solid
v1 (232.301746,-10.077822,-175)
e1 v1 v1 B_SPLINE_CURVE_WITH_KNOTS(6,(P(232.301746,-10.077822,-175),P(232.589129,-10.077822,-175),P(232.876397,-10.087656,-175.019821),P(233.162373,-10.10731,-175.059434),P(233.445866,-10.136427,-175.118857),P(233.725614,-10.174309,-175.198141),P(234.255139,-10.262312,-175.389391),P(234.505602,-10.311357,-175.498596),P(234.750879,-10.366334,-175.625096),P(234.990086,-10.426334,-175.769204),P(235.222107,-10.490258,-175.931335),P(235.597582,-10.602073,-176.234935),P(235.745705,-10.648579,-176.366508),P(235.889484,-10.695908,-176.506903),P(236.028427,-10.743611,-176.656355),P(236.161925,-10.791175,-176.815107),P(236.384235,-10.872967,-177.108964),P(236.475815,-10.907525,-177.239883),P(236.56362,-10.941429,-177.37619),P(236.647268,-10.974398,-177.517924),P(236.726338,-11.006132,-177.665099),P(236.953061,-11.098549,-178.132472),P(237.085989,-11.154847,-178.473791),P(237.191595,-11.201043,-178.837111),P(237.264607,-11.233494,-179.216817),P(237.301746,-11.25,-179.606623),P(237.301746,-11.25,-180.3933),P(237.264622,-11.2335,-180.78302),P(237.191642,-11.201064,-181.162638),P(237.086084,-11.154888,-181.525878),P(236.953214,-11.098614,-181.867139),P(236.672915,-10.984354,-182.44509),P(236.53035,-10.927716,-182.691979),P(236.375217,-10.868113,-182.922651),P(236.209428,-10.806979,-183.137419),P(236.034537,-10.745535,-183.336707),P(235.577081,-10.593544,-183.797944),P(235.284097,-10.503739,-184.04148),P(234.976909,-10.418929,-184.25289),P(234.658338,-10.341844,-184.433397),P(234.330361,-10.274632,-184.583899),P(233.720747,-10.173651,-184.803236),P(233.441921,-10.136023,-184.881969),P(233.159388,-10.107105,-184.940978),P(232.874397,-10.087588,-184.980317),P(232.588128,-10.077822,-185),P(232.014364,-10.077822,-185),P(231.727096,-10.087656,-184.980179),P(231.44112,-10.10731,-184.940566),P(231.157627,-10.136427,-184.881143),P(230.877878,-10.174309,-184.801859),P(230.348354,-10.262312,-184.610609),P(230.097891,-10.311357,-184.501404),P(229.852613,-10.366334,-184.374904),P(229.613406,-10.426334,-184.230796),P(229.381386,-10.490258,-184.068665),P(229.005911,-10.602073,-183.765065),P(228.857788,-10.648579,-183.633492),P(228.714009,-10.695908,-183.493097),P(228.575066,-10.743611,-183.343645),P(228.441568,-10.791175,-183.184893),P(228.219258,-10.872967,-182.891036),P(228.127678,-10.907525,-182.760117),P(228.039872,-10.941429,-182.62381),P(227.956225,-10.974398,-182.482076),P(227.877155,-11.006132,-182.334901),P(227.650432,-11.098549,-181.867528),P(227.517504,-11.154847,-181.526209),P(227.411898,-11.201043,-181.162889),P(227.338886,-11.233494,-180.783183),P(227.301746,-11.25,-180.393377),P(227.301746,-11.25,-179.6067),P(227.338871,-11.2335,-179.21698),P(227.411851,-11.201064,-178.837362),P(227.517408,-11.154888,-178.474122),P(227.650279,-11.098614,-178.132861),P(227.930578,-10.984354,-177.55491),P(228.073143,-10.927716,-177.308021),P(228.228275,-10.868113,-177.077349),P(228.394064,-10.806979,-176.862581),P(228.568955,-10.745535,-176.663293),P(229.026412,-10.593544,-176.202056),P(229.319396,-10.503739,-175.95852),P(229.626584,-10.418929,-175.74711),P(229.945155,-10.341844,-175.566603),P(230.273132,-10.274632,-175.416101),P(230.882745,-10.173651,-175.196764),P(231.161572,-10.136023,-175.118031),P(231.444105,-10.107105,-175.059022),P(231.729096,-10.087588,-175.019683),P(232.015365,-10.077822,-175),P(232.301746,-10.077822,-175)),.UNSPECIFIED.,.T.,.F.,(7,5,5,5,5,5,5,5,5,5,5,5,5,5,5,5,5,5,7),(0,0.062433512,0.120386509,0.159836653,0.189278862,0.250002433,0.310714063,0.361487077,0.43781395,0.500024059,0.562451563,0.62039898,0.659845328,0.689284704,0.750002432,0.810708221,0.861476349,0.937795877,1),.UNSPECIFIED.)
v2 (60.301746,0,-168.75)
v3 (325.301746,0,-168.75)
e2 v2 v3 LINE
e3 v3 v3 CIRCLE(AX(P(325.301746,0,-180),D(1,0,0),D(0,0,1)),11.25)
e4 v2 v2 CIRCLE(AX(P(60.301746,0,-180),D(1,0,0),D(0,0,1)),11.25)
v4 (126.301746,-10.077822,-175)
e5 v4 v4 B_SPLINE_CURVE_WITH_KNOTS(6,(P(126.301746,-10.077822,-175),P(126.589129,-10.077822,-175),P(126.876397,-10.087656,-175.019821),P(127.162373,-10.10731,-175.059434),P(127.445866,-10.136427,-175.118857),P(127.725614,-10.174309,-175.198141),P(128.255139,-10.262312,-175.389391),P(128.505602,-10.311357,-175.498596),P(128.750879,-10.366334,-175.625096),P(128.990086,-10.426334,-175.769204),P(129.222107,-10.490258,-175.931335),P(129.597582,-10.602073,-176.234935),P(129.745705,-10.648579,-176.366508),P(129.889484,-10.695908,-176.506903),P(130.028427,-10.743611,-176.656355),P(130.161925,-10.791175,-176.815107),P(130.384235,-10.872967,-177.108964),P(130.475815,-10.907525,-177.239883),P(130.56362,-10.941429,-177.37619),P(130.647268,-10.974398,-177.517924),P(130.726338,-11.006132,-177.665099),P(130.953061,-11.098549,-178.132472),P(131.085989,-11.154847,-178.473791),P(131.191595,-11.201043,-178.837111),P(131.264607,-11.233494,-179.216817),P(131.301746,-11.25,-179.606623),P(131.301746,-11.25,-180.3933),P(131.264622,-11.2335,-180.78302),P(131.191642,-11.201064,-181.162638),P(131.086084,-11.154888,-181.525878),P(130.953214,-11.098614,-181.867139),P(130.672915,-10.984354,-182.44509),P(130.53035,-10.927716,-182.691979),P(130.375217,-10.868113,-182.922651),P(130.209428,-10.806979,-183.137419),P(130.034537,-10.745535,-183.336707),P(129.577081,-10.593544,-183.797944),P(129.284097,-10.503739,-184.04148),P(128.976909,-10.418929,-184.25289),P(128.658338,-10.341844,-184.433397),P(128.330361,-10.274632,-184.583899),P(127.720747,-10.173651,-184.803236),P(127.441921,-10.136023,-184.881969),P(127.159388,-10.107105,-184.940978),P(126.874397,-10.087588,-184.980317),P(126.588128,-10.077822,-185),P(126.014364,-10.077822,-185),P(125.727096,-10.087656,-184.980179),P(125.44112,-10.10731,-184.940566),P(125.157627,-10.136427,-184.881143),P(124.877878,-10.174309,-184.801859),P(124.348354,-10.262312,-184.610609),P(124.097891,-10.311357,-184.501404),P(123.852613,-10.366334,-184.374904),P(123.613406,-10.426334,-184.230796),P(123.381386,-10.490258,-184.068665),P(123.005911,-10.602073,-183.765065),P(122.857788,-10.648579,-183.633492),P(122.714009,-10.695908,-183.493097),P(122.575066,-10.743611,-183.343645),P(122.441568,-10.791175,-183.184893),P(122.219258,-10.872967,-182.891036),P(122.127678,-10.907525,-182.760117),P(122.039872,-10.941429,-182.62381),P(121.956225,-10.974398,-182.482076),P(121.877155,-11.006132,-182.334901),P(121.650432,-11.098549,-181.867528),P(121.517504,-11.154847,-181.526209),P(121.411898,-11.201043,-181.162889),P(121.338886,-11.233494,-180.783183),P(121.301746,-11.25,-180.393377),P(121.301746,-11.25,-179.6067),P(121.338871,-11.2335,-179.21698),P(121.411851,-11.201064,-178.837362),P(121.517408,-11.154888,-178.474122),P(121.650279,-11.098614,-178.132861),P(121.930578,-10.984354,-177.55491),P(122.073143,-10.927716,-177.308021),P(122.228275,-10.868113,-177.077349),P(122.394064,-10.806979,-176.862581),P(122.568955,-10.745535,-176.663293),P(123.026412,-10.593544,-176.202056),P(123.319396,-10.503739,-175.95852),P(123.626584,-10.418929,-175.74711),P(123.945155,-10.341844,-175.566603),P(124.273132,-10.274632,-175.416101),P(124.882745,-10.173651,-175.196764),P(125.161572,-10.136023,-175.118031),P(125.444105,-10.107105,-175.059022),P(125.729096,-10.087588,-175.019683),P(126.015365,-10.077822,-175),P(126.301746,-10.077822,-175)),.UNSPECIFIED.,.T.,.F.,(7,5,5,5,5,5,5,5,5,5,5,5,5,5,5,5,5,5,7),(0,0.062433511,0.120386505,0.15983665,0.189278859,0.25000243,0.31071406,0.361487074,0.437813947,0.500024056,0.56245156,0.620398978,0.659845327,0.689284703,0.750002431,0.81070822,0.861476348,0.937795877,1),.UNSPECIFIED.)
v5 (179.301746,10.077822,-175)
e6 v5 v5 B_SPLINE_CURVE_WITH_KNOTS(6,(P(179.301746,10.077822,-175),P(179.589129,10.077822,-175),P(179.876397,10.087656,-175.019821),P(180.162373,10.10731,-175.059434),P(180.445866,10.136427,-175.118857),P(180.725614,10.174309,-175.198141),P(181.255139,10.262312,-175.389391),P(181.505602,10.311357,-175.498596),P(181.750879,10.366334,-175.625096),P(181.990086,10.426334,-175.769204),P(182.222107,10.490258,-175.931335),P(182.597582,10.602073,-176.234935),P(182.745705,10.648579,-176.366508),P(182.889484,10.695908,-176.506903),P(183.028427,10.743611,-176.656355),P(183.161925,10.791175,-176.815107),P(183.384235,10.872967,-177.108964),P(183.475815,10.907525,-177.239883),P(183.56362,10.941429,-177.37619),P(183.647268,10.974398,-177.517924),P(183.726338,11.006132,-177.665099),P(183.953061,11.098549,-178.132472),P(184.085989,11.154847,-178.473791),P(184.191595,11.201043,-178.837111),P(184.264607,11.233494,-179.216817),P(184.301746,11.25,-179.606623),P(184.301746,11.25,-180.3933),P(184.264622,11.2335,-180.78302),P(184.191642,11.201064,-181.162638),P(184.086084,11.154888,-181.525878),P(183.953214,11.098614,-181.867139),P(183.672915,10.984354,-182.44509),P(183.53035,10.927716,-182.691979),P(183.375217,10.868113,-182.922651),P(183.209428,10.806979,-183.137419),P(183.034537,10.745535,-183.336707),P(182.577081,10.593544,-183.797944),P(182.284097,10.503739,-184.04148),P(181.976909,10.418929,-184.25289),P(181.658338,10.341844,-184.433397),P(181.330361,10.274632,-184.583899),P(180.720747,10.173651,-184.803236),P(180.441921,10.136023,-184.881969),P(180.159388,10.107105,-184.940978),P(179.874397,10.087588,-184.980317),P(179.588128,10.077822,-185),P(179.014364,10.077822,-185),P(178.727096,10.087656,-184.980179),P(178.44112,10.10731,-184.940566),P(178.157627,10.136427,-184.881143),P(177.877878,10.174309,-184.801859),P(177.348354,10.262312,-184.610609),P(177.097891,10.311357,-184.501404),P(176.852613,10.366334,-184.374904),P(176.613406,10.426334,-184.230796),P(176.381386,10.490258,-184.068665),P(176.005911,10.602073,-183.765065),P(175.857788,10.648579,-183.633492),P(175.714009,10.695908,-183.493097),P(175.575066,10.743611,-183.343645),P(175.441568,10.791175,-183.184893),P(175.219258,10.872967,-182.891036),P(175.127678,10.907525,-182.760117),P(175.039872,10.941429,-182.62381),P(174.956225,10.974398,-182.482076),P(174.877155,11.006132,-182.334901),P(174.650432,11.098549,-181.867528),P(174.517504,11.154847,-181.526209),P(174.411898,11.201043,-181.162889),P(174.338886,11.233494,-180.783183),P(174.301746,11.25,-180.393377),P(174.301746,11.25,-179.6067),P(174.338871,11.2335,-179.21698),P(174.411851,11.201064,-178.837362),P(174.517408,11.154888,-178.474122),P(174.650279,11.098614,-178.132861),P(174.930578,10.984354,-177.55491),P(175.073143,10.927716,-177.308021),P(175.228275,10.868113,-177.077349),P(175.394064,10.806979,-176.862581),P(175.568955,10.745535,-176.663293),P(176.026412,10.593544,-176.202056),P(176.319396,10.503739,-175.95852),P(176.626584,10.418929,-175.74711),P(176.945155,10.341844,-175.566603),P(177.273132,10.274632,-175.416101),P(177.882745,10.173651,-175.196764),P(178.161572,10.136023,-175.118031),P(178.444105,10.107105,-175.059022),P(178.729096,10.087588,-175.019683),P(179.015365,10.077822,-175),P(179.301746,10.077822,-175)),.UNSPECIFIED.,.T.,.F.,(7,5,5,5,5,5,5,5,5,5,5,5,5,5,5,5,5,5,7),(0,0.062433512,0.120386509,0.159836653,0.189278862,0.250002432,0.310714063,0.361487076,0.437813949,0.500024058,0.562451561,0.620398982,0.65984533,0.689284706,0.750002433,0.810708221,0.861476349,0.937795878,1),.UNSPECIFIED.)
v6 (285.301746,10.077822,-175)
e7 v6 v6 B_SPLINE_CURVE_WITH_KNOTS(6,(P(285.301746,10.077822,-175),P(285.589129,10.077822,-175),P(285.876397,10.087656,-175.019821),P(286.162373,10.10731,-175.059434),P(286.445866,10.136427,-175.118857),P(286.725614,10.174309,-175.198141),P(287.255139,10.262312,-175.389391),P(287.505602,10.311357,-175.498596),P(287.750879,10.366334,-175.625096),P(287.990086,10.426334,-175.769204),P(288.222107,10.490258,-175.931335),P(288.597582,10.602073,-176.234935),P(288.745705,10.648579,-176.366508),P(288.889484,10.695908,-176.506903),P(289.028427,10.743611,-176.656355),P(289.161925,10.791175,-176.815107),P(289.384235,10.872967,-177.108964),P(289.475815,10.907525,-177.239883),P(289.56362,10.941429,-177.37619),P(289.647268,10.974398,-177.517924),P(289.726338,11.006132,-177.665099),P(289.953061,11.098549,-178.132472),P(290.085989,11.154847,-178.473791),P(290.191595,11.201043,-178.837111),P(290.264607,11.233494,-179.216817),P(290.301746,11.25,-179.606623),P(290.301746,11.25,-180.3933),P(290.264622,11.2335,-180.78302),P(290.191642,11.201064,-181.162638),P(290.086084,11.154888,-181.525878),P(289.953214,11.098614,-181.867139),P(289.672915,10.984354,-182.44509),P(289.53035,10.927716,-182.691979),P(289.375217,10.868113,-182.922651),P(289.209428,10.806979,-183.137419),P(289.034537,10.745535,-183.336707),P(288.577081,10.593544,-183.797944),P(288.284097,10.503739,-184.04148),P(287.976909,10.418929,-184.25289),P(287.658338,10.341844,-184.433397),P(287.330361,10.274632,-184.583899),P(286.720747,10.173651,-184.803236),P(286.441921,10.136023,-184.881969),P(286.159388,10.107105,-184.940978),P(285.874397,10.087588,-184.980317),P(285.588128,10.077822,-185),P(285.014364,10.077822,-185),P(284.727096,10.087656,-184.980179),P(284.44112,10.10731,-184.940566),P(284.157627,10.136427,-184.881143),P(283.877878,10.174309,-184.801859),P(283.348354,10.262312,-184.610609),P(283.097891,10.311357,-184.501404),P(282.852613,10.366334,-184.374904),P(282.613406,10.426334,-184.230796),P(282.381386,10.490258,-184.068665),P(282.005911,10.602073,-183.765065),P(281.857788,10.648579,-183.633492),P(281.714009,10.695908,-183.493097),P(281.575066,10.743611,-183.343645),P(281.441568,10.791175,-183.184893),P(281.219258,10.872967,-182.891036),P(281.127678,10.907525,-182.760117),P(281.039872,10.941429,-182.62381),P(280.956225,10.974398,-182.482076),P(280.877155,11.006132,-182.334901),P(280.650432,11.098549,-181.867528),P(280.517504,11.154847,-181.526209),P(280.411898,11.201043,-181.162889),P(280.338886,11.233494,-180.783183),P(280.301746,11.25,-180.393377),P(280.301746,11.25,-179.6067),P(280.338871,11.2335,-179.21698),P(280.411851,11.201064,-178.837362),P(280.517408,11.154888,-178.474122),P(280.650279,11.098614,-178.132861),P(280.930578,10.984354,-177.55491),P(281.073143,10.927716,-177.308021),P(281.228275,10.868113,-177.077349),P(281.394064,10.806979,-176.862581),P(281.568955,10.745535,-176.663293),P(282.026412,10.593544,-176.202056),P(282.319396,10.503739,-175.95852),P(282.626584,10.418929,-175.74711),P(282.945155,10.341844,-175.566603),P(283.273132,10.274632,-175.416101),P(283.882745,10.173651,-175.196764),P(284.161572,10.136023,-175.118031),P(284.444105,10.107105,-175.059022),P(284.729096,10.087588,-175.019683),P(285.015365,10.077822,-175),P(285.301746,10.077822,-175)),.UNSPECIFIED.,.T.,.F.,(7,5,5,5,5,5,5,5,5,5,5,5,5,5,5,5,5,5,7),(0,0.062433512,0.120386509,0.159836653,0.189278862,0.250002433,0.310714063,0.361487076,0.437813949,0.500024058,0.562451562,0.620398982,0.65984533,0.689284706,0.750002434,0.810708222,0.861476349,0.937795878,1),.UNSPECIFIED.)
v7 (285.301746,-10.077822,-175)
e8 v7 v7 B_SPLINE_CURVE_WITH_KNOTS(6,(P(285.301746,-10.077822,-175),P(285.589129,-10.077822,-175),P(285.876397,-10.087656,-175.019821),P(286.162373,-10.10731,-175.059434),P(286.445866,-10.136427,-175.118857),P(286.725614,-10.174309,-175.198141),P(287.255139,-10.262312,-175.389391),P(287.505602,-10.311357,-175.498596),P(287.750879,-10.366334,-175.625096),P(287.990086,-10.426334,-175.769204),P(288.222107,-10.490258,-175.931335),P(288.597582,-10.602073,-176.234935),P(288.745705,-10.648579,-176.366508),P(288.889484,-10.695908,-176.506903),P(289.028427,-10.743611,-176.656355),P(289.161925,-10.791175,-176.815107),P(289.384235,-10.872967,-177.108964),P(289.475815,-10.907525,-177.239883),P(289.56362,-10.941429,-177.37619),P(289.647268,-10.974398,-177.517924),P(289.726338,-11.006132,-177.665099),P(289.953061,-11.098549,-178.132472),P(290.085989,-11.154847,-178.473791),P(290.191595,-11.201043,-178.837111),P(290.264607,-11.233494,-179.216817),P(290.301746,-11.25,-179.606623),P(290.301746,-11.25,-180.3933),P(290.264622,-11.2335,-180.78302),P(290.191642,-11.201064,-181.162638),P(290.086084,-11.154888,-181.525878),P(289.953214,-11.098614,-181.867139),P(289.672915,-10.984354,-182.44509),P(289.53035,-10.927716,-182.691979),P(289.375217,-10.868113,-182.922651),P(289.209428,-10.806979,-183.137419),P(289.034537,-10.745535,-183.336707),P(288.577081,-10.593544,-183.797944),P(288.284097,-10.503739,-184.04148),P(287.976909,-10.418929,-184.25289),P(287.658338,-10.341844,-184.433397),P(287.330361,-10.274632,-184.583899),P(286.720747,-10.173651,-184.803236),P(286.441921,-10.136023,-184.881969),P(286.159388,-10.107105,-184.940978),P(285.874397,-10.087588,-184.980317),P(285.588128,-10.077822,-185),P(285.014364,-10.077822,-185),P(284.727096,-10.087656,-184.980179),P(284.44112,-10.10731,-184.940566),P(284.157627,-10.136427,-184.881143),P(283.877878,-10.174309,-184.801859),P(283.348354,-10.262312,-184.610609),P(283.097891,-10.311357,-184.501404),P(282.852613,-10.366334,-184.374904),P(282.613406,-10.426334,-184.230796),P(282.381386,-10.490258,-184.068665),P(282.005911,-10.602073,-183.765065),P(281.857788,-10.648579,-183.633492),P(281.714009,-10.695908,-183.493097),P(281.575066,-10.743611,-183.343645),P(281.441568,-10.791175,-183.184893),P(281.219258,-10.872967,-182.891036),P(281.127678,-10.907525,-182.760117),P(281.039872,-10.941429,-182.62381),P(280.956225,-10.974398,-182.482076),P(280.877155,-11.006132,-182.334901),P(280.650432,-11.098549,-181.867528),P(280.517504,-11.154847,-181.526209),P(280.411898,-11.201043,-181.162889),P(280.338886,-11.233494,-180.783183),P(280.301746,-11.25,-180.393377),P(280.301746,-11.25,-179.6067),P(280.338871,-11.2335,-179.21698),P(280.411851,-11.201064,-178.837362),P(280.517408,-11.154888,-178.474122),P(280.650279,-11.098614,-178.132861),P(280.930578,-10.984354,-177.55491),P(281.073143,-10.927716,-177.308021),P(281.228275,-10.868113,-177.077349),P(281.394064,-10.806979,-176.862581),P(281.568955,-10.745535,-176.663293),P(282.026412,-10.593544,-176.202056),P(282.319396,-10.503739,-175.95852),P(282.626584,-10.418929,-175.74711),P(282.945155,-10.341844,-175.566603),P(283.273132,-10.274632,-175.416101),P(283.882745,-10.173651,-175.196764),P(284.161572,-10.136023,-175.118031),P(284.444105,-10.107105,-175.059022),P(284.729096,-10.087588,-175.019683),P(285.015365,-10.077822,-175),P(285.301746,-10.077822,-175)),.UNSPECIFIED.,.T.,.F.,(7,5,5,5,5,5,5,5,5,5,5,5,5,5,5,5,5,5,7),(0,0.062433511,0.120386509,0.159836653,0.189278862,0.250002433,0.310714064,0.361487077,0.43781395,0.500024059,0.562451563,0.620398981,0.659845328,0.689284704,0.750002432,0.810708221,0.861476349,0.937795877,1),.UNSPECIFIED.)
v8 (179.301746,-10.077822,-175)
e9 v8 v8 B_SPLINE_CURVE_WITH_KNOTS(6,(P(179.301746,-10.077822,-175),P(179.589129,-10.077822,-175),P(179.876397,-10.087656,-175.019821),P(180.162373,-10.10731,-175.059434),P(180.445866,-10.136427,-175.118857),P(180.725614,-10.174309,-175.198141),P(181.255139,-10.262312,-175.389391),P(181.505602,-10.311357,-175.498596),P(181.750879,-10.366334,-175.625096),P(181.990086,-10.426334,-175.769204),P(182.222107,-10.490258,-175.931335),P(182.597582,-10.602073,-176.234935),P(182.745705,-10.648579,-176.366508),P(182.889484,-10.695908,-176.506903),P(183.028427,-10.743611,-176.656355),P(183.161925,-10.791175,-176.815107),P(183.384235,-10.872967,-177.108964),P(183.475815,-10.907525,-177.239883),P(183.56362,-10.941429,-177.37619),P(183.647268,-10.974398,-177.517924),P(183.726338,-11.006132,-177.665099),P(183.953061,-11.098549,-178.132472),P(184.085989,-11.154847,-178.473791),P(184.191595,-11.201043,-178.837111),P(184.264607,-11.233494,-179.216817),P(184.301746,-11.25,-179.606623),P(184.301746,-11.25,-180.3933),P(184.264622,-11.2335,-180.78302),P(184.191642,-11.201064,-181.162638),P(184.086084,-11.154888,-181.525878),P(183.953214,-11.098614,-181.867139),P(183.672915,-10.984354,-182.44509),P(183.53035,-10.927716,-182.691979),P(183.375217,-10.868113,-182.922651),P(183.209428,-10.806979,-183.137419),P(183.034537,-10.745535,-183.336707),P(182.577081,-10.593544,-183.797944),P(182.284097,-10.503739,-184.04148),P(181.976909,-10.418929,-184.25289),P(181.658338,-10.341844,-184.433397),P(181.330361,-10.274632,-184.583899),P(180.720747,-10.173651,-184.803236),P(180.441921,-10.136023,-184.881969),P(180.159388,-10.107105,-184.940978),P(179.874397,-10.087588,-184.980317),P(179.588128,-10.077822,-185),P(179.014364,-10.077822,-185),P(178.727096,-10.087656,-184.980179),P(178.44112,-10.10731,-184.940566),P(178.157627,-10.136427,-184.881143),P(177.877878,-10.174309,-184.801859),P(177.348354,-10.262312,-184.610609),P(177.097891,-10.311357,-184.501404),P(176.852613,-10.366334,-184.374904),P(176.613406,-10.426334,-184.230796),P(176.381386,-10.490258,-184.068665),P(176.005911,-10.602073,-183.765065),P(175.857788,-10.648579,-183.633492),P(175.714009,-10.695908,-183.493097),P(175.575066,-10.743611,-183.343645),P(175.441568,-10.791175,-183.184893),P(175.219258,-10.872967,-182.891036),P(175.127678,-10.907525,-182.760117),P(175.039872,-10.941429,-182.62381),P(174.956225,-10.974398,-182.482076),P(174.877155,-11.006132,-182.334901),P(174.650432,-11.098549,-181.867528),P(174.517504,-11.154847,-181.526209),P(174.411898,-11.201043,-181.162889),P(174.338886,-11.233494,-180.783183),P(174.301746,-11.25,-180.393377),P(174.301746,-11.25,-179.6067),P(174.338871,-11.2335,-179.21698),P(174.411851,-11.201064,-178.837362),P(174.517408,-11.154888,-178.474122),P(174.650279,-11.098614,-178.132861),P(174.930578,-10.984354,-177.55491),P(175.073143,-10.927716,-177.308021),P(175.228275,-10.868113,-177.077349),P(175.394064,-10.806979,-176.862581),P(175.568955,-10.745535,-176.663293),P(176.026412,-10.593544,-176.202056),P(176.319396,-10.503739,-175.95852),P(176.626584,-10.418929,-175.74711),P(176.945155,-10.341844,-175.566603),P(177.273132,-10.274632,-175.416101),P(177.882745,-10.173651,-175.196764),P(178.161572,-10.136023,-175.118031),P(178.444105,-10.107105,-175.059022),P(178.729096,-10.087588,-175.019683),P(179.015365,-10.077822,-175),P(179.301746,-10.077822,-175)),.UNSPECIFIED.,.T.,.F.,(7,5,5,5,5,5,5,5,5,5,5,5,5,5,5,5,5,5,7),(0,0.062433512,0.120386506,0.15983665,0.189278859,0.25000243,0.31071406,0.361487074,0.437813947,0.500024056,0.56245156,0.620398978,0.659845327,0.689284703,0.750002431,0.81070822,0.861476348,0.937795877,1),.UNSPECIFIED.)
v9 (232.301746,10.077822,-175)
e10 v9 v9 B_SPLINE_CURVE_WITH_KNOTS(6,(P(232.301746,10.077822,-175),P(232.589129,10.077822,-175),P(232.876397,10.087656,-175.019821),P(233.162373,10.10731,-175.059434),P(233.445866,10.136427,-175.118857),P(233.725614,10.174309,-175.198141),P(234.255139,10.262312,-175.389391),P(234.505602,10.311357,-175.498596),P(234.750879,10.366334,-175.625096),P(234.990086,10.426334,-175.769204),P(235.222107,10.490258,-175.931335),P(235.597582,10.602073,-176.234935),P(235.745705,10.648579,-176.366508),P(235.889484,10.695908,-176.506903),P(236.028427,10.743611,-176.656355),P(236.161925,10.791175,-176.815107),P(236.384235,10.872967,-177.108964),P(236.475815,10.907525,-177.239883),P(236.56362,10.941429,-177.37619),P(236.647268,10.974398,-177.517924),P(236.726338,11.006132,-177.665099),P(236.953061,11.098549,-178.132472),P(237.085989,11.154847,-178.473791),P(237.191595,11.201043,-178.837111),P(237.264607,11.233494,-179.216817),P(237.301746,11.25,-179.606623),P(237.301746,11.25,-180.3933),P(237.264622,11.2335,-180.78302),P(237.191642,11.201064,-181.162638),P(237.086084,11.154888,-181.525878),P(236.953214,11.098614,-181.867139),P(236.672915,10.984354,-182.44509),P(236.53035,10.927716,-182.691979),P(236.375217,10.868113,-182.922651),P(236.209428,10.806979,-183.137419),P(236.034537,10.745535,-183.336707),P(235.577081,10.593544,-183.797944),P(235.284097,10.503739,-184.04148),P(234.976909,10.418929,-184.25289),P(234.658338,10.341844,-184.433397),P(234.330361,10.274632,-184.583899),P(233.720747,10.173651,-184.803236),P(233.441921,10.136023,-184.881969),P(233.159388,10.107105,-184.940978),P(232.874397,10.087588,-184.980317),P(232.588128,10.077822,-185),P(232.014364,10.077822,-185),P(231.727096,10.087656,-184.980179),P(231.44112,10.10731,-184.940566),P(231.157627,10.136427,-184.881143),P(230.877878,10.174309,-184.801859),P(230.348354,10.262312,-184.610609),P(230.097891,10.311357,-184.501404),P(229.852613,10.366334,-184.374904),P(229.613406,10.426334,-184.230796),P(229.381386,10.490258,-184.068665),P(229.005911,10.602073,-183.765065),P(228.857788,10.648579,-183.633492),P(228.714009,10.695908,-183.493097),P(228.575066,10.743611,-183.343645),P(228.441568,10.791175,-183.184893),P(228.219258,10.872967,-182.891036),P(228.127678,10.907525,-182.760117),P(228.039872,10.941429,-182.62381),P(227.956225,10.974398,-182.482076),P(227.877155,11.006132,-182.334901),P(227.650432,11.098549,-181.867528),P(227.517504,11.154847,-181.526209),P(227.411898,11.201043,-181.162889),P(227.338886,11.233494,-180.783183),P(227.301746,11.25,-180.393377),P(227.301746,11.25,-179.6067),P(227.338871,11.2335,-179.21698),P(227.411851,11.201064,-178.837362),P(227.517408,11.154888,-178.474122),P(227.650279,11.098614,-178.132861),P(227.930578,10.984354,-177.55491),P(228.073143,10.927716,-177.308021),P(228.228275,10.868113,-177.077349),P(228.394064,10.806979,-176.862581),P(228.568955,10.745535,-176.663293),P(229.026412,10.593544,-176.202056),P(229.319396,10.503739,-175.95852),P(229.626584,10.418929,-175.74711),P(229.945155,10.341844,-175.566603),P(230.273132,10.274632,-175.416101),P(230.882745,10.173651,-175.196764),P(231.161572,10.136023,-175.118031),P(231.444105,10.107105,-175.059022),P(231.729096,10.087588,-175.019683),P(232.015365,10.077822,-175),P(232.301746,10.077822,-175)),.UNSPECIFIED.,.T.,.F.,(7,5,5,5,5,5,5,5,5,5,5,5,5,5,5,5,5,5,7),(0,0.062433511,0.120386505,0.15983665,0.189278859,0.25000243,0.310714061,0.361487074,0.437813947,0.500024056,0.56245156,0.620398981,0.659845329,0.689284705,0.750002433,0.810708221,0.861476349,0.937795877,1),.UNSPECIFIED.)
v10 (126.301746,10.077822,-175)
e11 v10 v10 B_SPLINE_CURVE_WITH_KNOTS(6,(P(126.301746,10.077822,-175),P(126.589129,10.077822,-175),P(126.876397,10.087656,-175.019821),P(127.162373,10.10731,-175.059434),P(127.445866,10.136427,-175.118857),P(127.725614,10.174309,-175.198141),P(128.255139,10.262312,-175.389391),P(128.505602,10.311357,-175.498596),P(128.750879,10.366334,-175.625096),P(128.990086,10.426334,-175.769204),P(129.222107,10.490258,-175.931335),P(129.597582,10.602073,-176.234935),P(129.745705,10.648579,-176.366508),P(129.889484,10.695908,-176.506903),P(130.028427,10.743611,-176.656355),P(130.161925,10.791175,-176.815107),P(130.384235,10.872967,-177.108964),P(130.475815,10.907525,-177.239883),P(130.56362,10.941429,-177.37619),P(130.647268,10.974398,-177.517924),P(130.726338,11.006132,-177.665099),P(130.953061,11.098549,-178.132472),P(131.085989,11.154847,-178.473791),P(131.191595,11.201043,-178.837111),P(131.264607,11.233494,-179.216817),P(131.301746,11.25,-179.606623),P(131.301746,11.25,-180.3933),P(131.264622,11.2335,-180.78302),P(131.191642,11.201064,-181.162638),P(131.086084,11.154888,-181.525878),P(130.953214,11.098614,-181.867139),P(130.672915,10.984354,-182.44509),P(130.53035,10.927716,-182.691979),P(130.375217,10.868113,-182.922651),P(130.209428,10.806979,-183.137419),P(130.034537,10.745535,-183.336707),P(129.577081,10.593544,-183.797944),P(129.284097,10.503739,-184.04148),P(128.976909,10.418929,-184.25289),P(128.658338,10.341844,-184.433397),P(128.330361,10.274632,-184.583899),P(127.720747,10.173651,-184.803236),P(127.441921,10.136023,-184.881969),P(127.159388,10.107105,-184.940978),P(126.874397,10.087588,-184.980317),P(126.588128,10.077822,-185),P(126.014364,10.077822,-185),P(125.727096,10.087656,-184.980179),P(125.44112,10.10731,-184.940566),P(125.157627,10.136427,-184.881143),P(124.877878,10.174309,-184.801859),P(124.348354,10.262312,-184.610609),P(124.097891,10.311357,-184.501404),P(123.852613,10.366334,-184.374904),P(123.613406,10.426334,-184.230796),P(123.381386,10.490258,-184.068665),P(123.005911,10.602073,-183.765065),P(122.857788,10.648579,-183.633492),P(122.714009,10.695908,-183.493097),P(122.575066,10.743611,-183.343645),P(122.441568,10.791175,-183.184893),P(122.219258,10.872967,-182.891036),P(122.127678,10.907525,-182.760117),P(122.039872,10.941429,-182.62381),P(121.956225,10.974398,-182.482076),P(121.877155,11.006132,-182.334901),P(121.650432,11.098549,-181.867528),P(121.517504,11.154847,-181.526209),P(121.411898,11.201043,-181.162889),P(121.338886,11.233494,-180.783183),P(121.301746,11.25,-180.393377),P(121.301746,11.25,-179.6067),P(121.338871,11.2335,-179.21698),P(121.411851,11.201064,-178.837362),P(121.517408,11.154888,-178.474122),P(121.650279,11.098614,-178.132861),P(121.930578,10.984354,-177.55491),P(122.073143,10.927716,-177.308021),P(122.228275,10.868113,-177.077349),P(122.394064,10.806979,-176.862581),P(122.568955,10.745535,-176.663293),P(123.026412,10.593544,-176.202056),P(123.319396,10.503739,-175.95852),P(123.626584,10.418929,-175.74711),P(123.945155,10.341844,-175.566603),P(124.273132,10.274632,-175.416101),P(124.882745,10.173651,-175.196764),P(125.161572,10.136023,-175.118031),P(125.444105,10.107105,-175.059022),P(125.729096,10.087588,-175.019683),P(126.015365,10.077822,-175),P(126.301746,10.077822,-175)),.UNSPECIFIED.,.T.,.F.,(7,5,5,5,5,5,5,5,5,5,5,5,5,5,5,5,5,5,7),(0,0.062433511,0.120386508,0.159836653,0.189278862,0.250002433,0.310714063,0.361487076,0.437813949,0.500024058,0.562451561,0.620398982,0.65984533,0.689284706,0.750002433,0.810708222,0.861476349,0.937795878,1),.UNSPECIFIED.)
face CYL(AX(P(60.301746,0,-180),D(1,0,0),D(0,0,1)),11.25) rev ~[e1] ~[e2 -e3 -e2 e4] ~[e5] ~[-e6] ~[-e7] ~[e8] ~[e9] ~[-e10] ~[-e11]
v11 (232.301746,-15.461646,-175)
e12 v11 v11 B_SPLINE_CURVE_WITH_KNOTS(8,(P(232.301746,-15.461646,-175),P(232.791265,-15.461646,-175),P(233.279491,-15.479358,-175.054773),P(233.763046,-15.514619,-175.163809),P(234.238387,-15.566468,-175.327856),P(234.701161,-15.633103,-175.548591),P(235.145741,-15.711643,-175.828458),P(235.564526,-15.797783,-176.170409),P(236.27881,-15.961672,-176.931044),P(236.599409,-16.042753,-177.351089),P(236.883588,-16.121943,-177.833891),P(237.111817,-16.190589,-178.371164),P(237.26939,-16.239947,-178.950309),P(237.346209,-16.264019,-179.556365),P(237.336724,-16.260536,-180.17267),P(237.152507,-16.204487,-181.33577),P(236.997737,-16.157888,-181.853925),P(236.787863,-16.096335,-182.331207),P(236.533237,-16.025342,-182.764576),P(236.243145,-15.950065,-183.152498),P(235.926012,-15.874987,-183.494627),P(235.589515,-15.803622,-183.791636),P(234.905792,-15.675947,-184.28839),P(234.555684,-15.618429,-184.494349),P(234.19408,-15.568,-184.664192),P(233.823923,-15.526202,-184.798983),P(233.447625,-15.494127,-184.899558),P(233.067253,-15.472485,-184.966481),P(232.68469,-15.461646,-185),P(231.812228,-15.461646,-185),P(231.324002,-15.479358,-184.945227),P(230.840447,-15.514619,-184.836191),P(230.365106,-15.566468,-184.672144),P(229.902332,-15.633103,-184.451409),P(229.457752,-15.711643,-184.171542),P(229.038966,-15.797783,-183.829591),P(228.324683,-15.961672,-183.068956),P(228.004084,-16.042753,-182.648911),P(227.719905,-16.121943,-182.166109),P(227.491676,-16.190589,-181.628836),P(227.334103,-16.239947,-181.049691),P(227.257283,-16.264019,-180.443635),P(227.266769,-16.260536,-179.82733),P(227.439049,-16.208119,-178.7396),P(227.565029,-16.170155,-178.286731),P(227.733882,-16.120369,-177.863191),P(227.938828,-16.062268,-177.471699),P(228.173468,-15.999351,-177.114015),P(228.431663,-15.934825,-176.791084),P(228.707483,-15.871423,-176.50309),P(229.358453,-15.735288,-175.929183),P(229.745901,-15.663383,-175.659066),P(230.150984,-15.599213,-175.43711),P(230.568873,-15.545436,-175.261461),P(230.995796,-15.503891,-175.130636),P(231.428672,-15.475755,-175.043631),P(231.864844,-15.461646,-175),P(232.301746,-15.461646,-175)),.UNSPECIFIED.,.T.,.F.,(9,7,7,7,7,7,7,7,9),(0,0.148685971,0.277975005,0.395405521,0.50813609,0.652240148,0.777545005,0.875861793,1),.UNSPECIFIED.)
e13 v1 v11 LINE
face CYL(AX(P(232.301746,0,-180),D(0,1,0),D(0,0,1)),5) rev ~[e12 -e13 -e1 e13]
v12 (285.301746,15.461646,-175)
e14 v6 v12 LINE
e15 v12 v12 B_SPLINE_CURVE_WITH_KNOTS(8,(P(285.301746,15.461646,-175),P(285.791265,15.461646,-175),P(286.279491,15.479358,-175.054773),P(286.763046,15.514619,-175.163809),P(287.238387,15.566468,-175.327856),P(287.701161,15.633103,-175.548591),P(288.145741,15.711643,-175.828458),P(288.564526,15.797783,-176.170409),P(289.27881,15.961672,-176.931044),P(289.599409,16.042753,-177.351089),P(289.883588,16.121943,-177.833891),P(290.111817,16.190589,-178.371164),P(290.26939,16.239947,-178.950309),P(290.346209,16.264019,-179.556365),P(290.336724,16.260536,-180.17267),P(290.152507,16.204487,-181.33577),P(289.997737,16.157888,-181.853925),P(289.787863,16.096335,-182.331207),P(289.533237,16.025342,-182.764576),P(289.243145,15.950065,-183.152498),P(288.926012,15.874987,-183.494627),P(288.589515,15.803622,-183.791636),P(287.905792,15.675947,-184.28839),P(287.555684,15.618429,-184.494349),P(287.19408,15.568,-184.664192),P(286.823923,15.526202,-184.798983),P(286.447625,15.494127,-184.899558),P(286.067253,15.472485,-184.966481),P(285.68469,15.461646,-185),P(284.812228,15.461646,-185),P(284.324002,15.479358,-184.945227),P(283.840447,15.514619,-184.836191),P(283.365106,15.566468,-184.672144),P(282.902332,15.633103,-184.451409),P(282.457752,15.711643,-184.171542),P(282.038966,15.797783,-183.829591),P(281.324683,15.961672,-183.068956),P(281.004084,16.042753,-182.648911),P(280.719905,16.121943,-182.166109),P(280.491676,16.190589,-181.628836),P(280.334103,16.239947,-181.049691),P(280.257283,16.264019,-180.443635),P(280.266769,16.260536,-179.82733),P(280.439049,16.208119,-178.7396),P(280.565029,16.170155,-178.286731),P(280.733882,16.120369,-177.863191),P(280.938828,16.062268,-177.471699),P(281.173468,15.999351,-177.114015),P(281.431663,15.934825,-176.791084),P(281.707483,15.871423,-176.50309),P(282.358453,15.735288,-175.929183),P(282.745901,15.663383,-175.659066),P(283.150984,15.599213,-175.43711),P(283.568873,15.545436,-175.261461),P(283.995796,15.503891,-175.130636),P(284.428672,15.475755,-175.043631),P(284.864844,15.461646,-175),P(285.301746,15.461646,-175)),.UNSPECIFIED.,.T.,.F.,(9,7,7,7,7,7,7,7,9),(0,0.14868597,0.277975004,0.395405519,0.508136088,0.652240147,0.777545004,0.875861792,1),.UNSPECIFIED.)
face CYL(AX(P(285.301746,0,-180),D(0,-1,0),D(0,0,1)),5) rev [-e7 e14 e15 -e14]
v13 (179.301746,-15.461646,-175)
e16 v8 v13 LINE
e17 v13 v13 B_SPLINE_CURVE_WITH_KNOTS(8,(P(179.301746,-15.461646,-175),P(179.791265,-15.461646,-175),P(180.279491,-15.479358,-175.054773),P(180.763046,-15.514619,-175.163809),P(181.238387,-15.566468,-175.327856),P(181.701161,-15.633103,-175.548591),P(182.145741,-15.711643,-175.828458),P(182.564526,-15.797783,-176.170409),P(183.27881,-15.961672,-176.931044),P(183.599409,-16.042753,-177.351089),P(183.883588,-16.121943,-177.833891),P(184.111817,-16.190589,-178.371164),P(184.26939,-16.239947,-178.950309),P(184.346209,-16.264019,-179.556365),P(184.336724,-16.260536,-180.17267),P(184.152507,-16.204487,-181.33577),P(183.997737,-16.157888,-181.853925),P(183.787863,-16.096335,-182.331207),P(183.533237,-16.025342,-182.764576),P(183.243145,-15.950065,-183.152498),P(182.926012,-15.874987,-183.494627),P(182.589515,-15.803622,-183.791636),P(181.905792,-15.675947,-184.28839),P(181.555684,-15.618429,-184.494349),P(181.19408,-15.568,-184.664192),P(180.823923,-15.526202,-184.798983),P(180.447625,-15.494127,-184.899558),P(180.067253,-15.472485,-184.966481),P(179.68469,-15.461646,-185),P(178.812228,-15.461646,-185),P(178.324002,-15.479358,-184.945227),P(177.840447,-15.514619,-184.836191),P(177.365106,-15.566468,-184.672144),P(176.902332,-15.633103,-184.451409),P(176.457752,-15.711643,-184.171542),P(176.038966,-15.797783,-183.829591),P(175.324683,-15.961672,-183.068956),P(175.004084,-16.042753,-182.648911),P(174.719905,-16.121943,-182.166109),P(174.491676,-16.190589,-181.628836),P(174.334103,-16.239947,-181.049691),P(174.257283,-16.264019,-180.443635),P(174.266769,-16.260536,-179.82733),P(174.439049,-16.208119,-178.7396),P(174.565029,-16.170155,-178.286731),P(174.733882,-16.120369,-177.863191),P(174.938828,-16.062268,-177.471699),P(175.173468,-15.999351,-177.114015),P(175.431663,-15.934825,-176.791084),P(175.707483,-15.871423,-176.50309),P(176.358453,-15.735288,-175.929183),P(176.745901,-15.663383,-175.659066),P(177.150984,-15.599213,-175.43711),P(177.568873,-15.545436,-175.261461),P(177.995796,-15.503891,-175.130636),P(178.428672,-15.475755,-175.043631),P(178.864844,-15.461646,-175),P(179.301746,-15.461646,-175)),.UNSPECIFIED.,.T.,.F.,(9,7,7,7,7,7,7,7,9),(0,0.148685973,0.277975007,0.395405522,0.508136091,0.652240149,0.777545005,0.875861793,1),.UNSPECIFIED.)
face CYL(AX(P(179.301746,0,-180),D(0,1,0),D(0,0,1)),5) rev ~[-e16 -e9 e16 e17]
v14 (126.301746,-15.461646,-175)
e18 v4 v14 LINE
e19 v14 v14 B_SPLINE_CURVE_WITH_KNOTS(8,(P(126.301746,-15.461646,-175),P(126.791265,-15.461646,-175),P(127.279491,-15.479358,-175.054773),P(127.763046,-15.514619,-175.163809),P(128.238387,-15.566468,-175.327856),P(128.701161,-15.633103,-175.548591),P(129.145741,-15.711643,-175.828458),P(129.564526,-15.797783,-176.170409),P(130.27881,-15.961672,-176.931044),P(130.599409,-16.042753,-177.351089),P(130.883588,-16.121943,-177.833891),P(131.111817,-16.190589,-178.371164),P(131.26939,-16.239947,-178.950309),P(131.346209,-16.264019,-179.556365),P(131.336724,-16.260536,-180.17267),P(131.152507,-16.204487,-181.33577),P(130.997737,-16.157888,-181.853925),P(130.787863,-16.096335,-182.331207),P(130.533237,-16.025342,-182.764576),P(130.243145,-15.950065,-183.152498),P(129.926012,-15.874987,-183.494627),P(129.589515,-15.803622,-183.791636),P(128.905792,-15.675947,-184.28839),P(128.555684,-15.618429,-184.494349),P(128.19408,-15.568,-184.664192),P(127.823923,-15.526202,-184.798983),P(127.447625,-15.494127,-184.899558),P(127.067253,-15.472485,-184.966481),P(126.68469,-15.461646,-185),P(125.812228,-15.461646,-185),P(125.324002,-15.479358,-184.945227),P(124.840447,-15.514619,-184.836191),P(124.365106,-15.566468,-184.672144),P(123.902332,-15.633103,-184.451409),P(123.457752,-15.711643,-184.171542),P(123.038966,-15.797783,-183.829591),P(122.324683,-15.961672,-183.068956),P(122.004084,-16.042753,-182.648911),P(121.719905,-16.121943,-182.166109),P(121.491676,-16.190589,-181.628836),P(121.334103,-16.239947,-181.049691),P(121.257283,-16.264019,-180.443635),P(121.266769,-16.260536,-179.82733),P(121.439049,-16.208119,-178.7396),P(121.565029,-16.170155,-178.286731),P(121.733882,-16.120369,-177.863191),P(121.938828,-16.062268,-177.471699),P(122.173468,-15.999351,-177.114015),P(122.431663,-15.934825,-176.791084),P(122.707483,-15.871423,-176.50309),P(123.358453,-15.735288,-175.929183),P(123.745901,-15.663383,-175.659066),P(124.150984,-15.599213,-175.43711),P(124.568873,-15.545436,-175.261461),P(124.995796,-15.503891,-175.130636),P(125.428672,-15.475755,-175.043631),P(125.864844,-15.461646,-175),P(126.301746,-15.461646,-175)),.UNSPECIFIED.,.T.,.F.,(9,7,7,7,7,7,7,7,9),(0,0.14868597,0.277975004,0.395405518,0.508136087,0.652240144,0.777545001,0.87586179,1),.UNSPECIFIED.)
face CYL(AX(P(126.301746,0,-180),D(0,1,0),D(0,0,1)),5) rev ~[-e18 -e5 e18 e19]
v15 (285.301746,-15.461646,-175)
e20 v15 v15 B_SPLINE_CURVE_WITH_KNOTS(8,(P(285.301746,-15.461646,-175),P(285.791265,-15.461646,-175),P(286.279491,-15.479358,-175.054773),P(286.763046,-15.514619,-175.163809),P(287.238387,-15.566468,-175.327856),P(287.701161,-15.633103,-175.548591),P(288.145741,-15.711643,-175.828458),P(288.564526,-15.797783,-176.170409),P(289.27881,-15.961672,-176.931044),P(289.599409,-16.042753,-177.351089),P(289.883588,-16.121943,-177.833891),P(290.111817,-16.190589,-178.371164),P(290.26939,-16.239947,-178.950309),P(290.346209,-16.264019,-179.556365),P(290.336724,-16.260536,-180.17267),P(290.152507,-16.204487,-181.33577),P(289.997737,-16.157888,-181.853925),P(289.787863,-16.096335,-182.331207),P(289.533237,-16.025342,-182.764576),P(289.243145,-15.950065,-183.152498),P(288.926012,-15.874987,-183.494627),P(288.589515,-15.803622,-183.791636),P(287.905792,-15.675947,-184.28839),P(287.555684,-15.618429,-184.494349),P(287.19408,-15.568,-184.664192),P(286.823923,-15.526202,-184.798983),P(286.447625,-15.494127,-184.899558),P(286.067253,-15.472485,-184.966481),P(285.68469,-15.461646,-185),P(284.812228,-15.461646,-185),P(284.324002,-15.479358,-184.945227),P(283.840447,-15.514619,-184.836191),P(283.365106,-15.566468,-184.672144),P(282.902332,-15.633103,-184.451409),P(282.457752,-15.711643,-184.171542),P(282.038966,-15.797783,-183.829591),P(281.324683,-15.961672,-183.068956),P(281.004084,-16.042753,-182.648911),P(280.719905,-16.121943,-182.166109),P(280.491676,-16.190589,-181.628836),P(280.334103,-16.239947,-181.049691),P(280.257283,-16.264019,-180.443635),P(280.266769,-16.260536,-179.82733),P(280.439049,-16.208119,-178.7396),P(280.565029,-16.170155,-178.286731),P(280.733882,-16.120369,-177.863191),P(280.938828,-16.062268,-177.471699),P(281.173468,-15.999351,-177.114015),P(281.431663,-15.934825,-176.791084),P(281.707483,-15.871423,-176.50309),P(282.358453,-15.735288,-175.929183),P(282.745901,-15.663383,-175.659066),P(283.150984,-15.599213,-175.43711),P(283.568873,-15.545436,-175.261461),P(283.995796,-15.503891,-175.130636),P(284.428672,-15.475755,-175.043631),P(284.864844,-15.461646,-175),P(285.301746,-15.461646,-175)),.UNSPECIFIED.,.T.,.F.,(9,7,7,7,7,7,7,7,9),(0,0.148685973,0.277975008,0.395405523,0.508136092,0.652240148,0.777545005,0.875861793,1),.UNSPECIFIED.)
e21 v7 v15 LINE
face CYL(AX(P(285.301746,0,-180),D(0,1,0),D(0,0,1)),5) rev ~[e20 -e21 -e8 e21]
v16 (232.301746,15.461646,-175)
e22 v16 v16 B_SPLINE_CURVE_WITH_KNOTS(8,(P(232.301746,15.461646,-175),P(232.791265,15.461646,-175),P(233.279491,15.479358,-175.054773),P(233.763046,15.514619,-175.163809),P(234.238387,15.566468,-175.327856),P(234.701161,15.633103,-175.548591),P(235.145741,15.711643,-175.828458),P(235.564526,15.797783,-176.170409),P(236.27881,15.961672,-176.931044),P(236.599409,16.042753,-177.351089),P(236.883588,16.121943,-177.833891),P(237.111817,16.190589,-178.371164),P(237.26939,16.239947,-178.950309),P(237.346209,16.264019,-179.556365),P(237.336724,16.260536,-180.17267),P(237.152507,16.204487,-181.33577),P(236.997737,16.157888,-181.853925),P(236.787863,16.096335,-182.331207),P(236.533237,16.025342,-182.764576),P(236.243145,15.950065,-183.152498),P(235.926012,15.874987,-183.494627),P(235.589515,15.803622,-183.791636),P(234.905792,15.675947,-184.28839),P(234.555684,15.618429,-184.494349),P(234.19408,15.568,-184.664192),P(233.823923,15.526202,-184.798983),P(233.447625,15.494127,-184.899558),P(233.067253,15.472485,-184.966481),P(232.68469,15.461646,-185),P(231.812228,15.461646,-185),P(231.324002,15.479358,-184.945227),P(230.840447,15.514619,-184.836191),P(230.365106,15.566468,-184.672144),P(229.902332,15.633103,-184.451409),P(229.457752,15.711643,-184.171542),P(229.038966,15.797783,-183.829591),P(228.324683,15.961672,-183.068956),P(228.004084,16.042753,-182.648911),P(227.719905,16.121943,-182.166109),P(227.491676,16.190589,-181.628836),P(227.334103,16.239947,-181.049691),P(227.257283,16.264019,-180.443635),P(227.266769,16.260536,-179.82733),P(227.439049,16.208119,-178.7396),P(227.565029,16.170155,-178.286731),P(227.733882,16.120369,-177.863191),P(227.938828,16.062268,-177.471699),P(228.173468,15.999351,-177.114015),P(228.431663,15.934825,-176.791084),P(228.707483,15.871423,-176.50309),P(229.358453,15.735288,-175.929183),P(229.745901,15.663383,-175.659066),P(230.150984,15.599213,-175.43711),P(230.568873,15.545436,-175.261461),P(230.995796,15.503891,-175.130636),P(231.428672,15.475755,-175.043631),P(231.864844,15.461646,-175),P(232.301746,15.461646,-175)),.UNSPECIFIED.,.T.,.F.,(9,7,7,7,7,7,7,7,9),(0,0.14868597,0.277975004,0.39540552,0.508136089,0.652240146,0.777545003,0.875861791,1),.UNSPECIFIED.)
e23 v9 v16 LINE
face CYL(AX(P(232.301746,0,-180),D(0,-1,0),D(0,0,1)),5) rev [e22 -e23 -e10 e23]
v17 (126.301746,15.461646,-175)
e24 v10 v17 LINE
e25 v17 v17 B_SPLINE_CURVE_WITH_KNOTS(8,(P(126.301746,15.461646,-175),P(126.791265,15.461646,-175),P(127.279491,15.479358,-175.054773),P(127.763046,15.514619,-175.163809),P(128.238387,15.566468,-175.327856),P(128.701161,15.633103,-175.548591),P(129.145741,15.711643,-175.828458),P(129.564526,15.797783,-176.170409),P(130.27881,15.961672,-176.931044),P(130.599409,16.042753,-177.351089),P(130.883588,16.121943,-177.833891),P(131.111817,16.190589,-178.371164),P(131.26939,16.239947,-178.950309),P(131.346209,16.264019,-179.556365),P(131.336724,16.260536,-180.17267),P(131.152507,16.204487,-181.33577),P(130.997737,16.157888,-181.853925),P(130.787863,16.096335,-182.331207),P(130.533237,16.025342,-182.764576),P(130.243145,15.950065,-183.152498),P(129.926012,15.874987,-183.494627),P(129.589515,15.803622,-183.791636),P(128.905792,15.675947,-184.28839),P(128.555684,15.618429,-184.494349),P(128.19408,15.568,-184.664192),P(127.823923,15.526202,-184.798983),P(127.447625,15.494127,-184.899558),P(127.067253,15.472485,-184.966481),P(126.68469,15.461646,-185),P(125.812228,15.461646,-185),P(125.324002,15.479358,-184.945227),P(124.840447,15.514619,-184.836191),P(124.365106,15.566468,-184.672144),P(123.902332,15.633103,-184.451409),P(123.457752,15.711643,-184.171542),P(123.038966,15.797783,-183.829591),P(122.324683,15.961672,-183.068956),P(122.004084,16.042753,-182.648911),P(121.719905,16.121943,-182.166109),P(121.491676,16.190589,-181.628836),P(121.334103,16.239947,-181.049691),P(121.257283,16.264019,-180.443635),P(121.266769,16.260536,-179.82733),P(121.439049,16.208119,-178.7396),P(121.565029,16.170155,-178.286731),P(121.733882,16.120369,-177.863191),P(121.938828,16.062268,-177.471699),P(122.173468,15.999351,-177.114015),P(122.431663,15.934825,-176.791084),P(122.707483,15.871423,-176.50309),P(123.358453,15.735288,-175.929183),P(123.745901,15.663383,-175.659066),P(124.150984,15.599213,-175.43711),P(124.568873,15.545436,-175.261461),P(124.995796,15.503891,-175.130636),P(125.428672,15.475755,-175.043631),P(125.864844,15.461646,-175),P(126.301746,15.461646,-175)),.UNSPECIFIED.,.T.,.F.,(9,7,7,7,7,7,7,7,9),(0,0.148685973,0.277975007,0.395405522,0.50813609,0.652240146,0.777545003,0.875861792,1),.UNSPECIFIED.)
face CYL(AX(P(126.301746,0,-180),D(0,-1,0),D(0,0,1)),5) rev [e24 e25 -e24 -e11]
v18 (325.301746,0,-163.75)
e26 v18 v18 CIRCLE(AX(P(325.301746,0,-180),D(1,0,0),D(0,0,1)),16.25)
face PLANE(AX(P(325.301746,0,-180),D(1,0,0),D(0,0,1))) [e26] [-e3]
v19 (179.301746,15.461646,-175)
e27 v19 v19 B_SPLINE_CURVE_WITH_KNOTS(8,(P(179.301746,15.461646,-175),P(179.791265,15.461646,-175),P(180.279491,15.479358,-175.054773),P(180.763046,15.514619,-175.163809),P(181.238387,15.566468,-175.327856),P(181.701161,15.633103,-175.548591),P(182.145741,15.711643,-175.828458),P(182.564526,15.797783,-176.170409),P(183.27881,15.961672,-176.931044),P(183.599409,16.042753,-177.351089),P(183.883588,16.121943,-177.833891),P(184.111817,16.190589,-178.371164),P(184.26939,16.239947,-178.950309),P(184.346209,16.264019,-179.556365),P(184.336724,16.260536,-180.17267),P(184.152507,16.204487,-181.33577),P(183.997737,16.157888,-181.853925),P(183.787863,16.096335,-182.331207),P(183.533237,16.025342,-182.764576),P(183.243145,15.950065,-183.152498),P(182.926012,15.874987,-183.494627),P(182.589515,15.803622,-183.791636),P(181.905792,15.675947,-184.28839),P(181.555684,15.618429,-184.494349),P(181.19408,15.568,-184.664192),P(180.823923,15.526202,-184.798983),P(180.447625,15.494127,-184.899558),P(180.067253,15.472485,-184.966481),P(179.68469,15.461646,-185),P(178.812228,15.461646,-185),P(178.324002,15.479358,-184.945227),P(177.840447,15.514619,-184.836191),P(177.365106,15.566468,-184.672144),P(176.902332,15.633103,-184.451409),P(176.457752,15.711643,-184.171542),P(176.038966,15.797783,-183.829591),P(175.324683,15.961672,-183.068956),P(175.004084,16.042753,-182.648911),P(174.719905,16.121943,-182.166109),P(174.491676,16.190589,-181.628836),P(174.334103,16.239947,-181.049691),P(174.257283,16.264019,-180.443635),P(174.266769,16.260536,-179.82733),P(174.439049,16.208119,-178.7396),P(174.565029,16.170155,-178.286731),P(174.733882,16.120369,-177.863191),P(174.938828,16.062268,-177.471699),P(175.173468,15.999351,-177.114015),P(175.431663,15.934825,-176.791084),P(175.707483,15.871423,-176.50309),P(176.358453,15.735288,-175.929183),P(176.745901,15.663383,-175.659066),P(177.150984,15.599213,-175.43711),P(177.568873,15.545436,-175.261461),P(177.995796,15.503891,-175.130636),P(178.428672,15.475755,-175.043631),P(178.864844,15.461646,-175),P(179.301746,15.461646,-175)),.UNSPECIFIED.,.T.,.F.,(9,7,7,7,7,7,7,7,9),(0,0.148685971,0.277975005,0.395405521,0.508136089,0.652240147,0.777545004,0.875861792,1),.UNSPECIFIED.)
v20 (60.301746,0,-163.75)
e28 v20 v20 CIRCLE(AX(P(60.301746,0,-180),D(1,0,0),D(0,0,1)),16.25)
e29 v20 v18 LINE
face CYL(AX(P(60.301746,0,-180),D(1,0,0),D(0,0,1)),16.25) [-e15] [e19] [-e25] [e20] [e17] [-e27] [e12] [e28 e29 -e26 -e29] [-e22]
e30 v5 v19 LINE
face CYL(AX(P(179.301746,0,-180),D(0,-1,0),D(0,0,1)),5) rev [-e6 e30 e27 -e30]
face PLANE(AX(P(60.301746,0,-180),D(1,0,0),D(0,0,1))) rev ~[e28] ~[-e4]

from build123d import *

# Parameters (mm, degrees)
SWEEP_THIN1_PROFILE_R   = 16.25
SWEEP_THIN1_PROFILE_R_2 = 11.25
SKETCH3_R               = 5
CUT_EXTRUDE1_DEPTH      = 381.262213736
CUT_EXTRUDE1_DEPTH_BACK = 381.262213736


with BuildPart() as part:
    # Sweep-Thin1: sweep along a path in Sketch2
    with BuildLine(Plane(origin=(0, 0, 0), x_dir=(1, 0, 0), z_dir=(0, 1, 0))) as sweep_thin1_path:
        Line((60.301746377, 180), (325.301746377, 180))
    # Sweep-Thin1 profile (on start of the path) → Sweep-Thin1 (sweep)
    with BuildSketch(Plane(origin=(60.301746377, 0, -180), x_dir=(0, 0, 1), z_dir=(1, 0, 0))):
        Circle(SWEEP_THIN1_PROFILE_R)
        Circle(SWEEP_THIN1_PROFILE_R_2, mode=Mode.SUBTRACT)
    sweep(path=sweep_thin1_path.line)

    # Sketch3 → Cut-Extrude1 (cut, two sides)
    with BuildSketch(Plane(origin=(0, 0, 0), x_dir=(1, 0, 0), z_dir=(0, 1, 0))) as cut_extrude1_sk:
        with Locations(Location((126.301746377, 180, 0), (0, 0, 270))):
            Circle(SKETCH3_R)
        with Locations(Location((179.301746377, 180, 0), (0, 0, 270))):
            Circle(SKETCH3_R)
        with Locations(Location((232.301746377, 180, 0), (0, 0, 270))):
            Circle(SKETCH3_R)
        with Locations(Location((285.301746377, 180, 0), (0, 0, 270))):
            Circle(SKETCH3_R)
    extrude(amount=CUT_EXTRUDE1_DEPTH, mode=Mode.SUBTRACT)
    extrude(cut_extrude1_sk.sketch, amount=-CUT_EXTRUDE1_DEPTH_BACK, mode=Mode.SUBTRACT)


solid = part.part
